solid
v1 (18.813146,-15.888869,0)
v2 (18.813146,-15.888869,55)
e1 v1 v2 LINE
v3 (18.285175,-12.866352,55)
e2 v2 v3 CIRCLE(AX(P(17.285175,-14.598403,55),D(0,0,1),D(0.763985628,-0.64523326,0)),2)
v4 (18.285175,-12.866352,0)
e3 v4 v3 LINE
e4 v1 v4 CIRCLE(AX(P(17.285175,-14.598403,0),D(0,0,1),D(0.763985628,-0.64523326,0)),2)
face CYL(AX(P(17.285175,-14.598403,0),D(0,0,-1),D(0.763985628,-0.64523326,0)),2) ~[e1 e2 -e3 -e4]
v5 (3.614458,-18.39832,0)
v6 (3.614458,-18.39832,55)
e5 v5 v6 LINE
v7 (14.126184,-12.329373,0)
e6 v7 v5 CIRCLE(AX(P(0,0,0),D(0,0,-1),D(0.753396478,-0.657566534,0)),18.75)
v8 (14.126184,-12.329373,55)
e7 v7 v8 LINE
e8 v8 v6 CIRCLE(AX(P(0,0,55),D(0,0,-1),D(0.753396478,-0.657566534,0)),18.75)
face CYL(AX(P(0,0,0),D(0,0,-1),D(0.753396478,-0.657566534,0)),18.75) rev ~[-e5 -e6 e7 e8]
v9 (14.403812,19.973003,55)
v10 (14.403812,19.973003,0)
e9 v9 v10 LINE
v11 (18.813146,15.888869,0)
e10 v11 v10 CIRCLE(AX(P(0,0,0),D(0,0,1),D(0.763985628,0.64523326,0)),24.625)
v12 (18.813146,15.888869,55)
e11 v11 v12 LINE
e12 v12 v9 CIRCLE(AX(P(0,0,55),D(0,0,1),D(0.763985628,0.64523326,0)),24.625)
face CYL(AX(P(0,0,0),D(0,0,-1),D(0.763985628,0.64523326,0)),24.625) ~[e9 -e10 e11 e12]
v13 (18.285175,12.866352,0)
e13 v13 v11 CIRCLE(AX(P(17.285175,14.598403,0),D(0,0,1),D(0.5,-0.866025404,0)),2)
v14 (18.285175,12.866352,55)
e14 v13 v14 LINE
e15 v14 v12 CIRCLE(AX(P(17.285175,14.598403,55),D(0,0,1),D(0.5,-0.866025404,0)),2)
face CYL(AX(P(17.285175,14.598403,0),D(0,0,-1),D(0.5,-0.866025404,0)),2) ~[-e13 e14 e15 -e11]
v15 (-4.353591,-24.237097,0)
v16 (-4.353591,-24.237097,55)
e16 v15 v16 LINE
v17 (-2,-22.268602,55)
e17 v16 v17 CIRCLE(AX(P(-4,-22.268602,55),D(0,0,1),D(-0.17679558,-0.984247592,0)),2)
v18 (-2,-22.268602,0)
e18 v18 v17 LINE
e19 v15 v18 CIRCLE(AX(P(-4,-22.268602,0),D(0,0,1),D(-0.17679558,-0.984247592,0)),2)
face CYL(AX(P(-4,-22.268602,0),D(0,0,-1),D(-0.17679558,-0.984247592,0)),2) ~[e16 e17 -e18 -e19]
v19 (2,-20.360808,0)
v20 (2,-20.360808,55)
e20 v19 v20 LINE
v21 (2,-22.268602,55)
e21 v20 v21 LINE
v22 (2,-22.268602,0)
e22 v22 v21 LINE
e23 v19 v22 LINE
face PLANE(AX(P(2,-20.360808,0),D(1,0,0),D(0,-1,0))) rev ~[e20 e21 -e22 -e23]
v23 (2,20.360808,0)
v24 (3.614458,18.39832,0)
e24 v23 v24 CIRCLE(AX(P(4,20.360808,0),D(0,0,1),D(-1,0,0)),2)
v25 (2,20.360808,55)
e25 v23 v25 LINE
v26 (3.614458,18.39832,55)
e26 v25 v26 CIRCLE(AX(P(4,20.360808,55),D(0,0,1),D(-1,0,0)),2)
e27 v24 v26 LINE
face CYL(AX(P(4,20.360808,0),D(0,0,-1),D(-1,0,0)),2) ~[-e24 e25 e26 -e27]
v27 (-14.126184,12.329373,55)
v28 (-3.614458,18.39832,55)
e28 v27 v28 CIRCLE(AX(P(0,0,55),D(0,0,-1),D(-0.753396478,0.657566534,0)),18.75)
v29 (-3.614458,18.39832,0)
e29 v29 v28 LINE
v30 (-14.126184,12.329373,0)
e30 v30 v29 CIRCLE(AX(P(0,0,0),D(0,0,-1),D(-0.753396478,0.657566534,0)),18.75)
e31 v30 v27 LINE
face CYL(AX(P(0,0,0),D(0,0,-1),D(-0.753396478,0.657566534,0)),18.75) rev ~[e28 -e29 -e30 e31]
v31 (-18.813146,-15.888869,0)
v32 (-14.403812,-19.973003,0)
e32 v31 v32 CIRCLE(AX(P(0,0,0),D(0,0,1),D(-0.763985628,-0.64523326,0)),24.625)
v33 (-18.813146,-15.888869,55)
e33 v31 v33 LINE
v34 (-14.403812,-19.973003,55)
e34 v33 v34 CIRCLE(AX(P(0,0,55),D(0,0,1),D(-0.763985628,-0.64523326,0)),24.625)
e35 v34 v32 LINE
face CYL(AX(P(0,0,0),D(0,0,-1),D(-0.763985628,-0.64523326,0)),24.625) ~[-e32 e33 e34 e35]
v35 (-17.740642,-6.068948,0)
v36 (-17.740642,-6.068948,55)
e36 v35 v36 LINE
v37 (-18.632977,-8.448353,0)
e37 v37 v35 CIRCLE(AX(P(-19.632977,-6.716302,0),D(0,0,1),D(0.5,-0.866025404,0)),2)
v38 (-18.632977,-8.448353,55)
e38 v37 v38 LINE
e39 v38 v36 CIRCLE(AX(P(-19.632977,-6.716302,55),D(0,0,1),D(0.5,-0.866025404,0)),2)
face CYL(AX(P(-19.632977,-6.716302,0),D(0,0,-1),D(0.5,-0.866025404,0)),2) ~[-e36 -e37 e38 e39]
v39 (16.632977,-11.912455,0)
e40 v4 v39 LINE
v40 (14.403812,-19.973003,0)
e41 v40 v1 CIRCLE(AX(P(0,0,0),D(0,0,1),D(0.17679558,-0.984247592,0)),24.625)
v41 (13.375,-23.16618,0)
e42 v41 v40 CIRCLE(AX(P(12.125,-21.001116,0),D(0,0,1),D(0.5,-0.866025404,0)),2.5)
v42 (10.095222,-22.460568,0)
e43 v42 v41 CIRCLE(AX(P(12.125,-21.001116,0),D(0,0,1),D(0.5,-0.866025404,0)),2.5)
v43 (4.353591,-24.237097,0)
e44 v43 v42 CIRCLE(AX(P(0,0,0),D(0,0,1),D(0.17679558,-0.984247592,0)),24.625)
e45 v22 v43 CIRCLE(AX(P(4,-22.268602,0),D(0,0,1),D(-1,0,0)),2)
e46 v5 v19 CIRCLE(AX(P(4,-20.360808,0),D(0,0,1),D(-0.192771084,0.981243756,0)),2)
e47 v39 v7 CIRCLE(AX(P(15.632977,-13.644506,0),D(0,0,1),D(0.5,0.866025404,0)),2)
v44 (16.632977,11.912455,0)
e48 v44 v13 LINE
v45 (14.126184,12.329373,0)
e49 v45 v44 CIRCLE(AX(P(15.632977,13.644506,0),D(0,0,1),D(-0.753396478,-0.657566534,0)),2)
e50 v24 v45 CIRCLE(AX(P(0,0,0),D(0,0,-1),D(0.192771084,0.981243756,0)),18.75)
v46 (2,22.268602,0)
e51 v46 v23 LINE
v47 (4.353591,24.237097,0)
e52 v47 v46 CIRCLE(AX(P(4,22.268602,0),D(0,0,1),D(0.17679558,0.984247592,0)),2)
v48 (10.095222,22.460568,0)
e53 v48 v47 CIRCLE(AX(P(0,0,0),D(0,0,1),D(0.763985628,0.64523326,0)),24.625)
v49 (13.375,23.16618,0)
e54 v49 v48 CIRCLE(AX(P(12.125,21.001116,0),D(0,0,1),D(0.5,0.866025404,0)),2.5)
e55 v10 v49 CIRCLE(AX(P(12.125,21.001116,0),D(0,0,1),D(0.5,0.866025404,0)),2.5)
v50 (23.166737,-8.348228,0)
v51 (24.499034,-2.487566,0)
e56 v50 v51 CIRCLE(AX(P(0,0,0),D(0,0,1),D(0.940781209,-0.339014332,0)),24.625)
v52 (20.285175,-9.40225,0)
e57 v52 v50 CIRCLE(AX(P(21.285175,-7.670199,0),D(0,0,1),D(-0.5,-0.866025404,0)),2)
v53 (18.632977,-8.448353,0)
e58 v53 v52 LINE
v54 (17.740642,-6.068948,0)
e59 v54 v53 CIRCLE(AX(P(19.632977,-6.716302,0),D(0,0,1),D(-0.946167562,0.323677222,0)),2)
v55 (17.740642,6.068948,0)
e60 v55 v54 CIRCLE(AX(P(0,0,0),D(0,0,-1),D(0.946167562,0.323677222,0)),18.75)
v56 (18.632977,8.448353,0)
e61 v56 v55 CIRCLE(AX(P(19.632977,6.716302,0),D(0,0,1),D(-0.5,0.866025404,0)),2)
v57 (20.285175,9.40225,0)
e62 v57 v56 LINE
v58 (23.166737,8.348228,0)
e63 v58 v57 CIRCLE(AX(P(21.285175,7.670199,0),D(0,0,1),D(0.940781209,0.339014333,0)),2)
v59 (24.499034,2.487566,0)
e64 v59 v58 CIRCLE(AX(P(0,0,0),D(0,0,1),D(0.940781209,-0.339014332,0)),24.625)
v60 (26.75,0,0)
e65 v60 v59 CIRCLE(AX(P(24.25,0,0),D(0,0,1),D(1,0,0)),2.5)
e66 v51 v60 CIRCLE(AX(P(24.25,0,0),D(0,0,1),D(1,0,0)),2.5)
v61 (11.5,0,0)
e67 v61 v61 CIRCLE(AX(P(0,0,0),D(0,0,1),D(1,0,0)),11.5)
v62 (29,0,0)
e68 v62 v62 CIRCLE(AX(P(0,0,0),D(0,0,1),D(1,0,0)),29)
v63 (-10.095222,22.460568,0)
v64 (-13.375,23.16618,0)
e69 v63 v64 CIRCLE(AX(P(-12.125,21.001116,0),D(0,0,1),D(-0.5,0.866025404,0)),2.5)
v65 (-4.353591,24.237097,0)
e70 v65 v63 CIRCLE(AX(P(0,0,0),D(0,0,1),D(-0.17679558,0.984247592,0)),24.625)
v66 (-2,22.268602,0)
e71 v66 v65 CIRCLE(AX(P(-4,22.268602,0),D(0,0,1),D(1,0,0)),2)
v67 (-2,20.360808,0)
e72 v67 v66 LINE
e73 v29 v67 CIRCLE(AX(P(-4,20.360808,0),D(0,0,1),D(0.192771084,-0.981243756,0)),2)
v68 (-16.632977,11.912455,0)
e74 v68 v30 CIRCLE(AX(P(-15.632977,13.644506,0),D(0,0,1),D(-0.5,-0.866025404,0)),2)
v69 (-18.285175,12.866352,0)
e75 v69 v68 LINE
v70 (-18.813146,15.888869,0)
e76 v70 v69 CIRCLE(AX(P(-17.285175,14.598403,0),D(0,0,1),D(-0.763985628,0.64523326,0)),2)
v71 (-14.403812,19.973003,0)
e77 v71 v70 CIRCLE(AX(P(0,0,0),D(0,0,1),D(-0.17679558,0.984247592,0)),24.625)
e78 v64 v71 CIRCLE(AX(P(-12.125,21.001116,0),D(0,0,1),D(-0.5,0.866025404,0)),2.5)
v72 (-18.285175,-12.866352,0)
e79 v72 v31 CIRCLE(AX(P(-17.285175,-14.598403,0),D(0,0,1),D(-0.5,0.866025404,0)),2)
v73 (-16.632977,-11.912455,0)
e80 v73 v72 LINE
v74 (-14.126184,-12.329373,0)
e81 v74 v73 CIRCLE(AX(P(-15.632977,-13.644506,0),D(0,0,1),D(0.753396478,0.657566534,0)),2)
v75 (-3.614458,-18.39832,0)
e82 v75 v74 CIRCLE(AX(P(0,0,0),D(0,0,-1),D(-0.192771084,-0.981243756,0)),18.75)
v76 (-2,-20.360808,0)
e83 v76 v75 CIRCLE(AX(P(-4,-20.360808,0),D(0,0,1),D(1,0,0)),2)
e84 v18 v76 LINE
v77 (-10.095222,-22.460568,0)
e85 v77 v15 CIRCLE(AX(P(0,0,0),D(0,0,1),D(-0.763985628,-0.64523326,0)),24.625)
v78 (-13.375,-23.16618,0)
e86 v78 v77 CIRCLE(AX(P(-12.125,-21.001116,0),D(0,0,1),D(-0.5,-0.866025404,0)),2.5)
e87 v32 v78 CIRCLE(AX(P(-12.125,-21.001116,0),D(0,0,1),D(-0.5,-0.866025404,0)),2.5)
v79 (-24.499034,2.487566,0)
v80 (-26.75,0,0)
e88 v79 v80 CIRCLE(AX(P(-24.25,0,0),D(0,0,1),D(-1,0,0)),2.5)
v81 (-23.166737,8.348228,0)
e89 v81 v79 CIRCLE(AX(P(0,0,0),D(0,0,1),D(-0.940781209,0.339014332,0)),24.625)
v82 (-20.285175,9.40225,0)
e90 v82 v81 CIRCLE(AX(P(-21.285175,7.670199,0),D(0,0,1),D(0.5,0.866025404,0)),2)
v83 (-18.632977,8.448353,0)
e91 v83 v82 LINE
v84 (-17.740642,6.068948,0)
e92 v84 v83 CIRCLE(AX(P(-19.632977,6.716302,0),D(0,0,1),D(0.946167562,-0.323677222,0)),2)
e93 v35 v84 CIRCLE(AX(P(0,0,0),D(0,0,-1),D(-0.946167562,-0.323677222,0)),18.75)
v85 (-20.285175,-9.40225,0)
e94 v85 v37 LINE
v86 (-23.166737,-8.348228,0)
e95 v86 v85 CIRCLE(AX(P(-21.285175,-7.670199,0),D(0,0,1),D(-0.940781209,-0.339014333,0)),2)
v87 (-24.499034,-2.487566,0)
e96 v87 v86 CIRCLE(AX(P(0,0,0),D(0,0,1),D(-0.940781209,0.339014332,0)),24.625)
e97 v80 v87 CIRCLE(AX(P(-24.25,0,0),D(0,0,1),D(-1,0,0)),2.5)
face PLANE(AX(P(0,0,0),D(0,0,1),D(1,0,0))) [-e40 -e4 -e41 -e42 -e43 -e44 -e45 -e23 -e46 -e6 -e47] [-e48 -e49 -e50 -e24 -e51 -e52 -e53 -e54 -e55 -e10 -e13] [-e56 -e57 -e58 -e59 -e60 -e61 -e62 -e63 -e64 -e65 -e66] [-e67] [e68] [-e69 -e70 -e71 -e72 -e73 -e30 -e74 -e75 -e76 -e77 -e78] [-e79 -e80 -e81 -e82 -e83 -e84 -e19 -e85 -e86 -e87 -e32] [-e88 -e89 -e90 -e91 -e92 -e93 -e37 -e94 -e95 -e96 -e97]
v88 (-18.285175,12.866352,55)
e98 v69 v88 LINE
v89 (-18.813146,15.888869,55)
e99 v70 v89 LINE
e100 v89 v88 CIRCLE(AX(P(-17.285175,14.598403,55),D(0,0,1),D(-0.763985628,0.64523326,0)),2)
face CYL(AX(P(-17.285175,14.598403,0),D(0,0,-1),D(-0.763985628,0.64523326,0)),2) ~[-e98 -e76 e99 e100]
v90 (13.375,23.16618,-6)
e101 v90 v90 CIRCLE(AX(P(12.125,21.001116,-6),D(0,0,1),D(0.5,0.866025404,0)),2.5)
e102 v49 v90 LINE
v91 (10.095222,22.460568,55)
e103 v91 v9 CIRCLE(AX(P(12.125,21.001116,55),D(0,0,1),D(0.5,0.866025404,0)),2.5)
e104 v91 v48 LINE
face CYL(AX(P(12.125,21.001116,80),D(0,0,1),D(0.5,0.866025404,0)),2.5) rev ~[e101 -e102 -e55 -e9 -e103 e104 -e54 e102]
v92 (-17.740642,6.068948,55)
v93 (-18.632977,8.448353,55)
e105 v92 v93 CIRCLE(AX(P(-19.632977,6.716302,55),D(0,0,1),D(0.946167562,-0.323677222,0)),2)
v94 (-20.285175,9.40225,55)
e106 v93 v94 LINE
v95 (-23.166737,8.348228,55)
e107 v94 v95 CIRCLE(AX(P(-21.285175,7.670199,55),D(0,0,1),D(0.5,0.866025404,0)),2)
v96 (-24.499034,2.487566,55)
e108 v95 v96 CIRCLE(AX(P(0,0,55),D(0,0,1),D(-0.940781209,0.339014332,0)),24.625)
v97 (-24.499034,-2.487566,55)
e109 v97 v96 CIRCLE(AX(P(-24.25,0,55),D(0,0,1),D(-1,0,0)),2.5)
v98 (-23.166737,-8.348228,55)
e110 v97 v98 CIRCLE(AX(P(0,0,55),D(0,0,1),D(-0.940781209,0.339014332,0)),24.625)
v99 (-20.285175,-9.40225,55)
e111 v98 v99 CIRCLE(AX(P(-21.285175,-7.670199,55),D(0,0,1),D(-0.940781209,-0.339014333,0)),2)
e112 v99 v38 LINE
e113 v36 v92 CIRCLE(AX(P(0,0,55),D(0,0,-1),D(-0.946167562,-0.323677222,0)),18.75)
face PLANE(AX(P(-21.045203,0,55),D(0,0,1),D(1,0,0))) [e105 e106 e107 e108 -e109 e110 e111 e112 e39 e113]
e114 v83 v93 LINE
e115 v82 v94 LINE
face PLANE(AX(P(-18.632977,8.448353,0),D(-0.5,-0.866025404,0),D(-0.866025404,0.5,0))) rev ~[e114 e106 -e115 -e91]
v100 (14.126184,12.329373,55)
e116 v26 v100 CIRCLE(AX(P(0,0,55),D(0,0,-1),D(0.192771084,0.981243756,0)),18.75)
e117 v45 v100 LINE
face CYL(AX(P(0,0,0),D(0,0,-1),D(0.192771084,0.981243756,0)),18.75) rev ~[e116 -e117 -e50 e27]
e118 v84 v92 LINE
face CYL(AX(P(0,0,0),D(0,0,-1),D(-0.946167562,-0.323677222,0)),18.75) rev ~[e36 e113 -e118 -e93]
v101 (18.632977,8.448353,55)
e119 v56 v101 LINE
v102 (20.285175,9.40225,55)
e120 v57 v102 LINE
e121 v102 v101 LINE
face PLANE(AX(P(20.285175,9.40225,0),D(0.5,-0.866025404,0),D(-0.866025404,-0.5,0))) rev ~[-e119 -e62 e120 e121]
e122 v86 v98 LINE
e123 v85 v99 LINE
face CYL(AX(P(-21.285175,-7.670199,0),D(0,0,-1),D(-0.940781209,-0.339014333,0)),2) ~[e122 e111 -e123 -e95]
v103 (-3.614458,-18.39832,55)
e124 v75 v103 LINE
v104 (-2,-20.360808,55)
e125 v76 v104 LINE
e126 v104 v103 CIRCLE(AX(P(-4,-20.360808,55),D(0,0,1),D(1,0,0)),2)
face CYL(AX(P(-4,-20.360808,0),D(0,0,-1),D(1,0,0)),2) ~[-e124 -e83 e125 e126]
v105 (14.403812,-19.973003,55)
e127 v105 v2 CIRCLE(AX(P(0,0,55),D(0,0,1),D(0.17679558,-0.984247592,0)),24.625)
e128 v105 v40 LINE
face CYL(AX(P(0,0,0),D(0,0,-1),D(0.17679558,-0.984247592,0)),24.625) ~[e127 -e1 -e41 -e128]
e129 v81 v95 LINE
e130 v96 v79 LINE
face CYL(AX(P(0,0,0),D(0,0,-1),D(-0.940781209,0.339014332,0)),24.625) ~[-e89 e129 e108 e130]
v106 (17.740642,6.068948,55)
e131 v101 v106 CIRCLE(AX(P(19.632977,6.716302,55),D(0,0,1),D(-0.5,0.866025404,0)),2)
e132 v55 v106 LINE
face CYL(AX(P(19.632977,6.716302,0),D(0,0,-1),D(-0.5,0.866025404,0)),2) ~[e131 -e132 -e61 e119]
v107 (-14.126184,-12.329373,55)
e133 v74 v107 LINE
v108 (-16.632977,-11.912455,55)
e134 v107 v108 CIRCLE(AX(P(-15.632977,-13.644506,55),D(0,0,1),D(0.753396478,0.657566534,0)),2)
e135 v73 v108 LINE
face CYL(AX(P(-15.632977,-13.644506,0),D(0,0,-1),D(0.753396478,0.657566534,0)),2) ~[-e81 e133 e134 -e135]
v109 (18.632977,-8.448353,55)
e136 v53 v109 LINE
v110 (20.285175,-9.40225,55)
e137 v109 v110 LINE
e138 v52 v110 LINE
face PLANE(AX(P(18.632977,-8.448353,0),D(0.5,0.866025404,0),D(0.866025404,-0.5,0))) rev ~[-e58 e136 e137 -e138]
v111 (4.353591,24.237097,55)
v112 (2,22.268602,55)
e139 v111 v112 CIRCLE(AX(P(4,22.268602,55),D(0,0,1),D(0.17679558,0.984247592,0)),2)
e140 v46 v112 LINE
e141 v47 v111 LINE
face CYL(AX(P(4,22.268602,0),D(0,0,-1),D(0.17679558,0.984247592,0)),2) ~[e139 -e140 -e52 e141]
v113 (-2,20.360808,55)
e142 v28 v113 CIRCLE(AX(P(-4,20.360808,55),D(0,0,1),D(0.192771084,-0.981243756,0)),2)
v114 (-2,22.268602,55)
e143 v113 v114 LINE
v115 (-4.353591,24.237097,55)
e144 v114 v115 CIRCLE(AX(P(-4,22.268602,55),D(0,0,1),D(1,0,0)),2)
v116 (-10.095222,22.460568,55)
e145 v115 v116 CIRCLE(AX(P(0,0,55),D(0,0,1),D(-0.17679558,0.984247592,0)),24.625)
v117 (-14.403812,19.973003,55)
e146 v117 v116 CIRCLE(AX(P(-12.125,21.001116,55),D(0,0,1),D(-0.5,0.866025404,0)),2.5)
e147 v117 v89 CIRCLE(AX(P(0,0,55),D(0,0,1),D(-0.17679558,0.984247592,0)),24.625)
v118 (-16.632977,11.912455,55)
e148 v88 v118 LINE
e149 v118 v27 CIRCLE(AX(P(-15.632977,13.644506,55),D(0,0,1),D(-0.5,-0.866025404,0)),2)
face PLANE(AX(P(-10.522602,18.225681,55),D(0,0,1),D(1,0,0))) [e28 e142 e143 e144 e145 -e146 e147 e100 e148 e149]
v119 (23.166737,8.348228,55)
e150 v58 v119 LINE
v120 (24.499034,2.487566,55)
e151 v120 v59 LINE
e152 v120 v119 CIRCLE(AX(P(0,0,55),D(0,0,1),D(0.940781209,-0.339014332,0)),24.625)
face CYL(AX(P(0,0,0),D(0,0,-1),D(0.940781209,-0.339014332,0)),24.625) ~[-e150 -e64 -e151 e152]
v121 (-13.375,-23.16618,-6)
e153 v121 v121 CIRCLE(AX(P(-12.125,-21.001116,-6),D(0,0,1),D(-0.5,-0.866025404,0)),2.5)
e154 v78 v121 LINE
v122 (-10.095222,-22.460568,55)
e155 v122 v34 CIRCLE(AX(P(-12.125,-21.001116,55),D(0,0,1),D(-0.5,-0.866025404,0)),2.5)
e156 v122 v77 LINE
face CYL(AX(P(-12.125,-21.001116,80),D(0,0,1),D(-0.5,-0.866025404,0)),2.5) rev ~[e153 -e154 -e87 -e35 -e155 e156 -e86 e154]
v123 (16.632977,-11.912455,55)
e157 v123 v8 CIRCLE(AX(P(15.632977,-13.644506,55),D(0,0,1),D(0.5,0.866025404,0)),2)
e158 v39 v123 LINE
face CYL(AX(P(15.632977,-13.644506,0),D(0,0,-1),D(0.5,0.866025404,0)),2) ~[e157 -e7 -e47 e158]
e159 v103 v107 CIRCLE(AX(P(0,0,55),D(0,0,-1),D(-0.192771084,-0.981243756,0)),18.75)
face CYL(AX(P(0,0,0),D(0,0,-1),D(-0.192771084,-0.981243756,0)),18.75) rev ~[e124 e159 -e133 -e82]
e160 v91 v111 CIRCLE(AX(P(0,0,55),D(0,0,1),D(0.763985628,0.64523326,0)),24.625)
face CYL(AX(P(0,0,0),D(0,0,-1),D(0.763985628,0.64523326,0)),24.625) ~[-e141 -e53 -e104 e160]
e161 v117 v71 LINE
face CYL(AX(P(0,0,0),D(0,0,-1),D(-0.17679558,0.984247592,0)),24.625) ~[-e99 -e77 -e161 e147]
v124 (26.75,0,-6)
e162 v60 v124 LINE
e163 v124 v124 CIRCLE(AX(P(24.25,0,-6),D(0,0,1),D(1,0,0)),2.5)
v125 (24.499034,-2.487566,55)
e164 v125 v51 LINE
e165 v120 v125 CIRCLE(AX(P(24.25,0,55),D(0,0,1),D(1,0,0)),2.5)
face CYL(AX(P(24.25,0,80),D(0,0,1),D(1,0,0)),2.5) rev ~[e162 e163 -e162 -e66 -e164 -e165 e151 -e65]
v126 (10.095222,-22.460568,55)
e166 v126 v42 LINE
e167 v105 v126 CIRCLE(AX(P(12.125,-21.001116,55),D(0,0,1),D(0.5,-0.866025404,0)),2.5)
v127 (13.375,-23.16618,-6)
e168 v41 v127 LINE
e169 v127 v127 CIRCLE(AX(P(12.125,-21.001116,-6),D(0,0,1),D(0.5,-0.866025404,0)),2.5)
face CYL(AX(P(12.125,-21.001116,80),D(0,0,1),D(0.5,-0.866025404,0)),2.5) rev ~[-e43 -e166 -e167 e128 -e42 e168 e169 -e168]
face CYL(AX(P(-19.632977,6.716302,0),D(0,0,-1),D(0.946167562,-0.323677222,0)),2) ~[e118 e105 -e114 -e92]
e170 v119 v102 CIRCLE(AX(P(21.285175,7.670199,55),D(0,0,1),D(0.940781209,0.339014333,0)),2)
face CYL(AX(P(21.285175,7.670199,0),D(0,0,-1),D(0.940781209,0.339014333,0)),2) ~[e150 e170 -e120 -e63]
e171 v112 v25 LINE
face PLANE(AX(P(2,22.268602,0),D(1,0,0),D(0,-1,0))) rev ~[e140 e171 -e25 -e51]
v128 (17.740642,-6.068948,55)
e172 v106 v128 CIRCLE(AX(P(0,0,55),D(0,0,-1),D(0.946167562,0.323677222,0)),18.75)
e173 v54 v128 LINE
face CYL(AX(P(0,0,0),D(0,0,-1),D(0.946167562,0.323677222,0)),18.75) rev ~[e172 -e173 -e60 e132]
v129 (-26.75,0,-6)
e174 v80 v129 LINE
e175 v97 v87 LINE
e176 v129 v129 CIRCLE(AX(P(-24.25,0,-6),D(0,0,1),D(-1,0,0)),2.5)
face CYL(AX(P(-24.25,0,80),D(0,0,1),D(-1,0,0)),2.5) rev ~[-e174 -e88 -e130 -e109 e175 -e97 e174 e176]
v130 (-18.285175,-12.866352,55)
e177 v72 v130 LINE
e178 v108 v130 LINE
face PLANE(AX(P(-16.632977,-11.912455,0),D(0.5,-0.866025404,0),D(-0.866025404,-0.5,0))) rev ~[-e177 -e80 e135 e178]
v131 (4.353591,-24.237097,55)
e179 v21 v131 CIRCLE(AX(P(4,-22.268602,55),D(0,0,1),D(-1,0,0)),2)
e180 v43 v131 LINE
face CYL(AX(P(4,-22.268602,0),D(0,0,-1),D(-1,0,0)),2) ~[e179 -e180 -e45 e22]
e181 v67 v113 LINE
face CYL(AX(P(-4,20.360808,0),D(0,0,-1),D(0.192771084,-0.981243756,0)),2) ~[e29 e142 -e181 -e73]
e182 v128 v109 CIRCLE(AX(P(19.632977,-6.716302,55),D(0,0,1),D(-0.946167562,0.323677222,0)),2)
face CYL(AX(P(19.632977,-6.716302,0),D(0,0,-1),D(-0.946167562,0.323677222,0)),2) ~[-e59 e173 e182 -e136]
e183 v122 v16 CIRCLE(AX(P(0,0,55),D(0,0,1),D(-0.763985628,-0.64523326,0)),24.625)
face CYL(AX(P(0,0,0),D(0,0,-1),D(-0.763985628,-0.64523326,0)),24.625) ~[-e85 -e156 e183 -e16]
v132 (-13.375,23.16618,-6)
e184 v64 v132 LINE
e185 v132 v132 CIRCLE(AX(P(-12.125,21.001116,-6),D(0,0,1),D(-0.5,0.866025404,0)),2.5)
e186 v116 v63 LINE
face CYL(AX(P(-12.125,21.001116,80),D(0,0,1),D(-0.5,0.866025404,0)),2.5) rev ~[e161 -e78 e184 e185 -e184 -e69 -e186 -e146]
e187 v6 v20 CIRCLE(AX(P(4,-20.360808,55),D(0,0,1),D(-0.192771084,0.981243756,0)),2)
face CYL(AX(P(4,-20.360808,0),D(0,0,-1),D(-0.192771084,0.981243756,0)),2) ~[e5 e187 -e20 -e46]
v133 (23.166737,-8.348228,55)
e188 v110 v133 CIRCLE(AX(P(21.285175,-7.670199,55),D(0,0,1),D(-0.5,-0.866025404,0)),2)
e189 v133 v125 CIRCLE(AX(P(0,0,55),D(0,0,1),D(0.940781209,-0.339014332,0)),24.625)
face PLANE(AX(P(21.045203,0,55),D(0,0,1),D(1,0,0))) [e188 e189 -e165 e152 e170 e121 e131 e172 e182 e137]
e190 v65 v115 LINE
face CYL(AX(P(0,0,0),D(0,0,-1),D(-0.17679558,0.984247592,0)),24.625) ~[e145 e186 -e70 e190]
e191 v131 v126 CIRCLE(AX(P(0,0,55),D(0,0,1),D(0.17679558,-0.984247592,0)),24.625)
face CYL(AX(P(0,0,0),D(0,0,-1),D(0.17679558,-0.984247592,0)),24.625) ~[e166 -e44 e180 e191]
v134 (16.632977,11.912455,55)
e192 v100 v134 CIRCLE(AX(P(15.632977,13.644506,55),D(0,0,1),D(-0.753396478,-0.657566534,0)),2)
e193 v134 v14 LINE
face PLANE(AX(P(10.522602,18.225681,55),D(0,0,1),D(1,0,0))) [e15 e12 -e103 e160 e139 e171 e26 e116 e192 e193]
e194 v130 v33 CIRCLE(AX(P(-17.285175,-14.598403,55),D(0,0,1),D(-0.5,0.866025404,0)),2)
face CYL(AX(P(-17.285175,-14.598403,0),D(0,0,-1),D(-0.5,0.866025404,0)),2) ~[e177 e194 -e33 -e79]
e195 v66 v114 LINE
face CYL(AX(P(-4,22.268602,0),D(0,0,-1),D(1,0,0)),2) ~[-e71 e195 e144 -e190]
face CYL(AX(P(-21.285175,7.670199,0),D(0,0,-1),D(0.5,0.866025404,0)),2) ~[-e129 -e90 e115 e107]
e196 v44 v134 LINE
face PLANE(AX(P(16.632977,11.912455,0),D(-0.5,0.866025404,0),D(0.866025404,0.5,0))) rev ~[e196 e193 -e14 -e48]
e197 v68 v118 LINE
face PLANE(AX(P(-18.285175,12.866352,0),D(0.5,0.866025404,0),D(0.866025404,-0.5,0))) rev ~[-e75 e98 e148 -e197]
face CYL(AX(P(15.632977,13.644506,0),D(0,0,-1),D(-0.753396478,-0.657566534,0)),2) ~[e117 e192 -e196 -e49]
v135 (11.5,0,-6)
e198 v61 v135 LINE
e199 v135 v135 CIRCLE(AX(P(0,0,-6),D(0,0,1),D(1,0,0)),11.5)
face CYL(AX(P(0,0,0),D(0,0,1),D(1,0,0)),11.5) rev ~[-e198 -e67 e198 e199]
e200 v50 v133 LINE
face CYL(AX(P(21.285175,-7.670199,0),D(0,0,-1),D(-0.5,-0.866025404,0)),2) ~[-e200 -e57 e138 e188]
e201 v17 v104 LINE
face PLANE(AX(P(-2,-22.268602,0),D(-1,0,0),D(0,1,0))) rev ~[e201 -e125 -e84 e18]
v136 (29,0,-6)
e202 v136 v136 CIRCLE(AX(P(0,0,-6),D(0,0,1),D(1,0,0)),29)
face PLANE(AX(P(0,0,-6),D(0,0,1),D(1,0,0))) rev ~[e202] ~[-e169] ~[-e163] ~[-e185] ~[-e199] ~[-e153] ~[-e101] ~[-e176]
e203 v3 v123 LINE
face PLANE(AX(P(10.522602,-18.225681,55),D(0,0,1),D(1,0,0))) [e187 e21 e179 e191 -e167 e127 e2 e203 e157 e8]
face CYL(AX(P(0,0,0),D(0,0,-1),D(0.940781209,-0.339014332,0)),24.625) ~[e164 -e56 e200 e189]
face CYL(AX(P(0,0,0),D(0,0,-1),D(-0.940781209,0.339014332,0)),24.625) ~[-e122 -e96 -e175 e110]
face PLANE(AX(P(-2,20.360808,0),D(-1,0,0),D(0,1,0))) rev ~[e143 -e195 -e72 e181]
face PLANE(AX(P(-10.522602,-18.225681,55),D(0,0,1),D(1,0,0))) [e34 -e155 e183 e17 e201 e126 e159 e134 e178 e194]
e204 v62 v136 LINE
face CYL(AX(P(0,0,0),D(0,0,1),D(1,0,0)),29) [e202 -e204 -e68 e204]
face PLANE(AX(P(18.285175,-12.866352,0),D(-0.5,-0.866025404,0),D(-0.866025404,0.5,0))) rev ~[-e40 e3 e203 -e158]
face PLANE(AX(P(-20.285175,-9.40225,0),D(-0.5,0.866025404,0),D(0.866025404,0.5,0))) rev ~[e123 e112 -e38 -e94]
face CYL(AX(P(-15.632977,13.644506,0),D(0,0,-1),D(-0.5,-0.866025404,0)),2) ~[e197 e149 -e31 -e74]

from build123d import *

# Parameters (mm, degrees)
F1_DEPTH = 55
F2_R     = 29
F2_R_2   = 11.5
F3_DEPTH = 6
F5_R     = 2.5
F7_DEPTH = 100
F8_COUNT = 6


with BuildPart() as f1:
    # F0 (on Top) → F1 (new body)
    with BuildSketch(Plane.XY):
        with BuildLine():
            Line((-2, -22.2686017747), (-2, -20.3608079407))
            ThreePointArc((-2, -20.3608079407), (-2.4554799552, -19.0901947694), (-3.6144578313, -18.3983204284))
            ThreePointArc((-3.6144578313, -18.3983204284), (-9.375, -16.237976321), (-14.1261839623, -12.329372517))
            ThreePointArc((-14.1261839623, -12.329372517), (-15.3048536558, -11.6716054044), (-16.6329769183, -11.9124547779))
            Line((-16.6329769183, -11.9124547779), (-18.2851748436, -12.8663516949))
            ThreePointArc((-18.2851748436, -12.8663516949), (-19.2553429626, -14.2542548846), (-18.8131461005, -15.888869022))
            ThreePointArc((-18.8131461005, -15.888869022), (-12.3125, -21.3258755682), (-4.3535911602, -24.2370969592))
            ThreePointArc((-4.3535911602, -24.2370969592), (-2.7168753608, -23.8027436065), (-2, -22.2686017747))
        make_face()
    extrude(amount=F1_DEPTH)



with BuildPart() as f1b:
    # F0 (on Top) → F1, piece 2 (new body)
    with BuildSketch(Plane.XY):
        with BuildLine():
            ThreePointArc((14.1261839623, -12.329372517), (9.375, -16.237976321), (3.6144578313, -18.3983204284))
            ThreePointArc((3.6144578313, -18.3983204284), (2.4554799552, -19.0901947694), (2, -20.3608079407))
            Line((2, -20.3608079407), (2, -22.2686017747))
            ThreePointArc((2, -22.2686017747), (2.7168753608, -23.8027436065), (4.3535911602, -24.2370969592))
            ThreePointArc((4.3535911602, -24.2370969592), (12.3125, -21.3258755682), (18.8131461005, -15.888869022))
            ThreePointArc((18.8131461005, -15.888869022), (19.2553429626, -14.2542548846), (18.2851748436, -12.8663516949))
            Line((18.2851748436, -12.8663516949), (16.6329769183, -11.9124547779))
            ThreePointArc((16.6329769183, -11.9124547779), (15.3048536558, -11.6716054044), (14.1261839623, -12.329372517))
        make_face()
    extrude(amount=F1_DEPTH)


with BuildPart() as f1c:
    # F0 (on Top) → F1, piece 3 (new body)
    with BuildSketch(Plane.XY):
        with BuildLine():
            ThreePointArc((17.7406417936, -6.0689479114), (17.7603336111, -7.418589365), (18.6329769183, -8.4483531628))
            Line((18.6329769183, -8.4483531628), (20.2851748436, -9.4022500798))
            ThreePointArc((20.2851748436, -9.4022500798), (21.9722183234, -9.5484887219), (23.1667372608, -8.3482279372))
            ThreePointArc((23.1667372608, -8.3482279372), (24.625, 0), (23.1667372608, 8.3482279372))
            ThreePointArc((23.1667372608, 8.3482279372), (21.9722183234, 9.5484887219), (20.2851748436, 9.4022500798))
            Line((20.2851748436, 9.4022500798), (18.6329769183, 8.4483531628))
            ThreePointArc((18.6329769183, 8.4483531628), (17.7603336111, 7.418589365), (17.7406417936, 6.0689479114))
            ThreePointArc((17.7406417936, 6.0689479114), (18.75, 0), (17.7406417936, -6.0689479114))
        make_face()
    extrude(amount=F1_DEPTH)


with BuildPart() as f1d:
    # F0 (on Top) → F1, piece 4 (new body)
    with BuildSketch(Plane.XY):
        with BuildLine():
            ThreePointArc((-17.7406417936, 6.0689479114), (-17.7603336111, 7.418589365), (-18.6329769183, 8.4483531628))
            Line((-18.6329769183, 8.4483531628), (-20.2851748436, 9.4022500798))
            ThreePointArc((-20.2851748436, 9.4022500798), (-21.9722183234, 9.5484887219), (-23.1667372608, 8.3482279372))
            ThreePointArc((-23.1667372608, 8.3482279372), (-24.625, 0), (-23.1667372608, -8.3482279372))
            ThreePointArc((-23.1667372608, -8.3482279372), (-21.9722183234, -9.5484887219), (-20.2851748436, -9.4022500798))
            Line((-20.2851748436, -9.4022500798), (-18.6329769183, -8.4483531628))
            ThreePointArc((-18.6329769183, -8.4483531628), (-17.7603336111, -7.418589365), (-17.7406417936, -6.0689479114))
            ThreePointArc((-17.7406417936, -6.0689479114), (-18.75, 0), (-17.7406417936, 6.0689479114))
        make_face()
    extrude(amount=F1_DEPTH)


with BuildPart() as f1e:
    # F0 (on Top) → F1, piece 5 (new body)
    with BuildSketch(Plane.XY):
        with BuildLine():
            ThreePointArc((-3.6144578313, 18.3983204284), (-2.4554799552, 19.0901947694), (-2, 20.3608079407))
            Line((-2, 20.3608079407), (-2, 22.2686017747))
            ThreePointArc((-2, 22.2686017747), (-2.7168753608, 23.8027436065), (-4.3535911602, 24.2370969592))
            ThreePointArc((-4.3535911602, 24.2370969592), (-12.3125, 21.3258755682), (-18.8131461005, 15.888869022))
            ThreePointArc((-18.8131461005, 15.888869022), (-19.2553429626, 14.2542548846), (-18.2851748436, 12.8663516949))
            Line((-18.2851748436, 12.8663516949), (-16.6329769183, 11.9124547779))
            ThreePointArc((-16.6329769183, 11.9124547779), (-15.3048536558, 11.6716054044), (-14.1261839623, 12.329372517))
            ThreePointArc((-14.1261839623, 12.329372517), (-9.375, 16.237976321), (-3.6144578313, 18.3983204284))
        make_face()
    extrude(amount=F1_DEPTH)


with BuildPart() as f1f:
    # F0 (on Top) → F1, piece 6 (new body)
    with BuildSketch(Plane.XY):
        with BuildLine():
            ThreePointArc((14.1261839623, 12.329372517), (15.3048536558, 11.6716054044), (16.6329769183, 11.9124547779))
            Line((16.6329769183, 11.9124547779), (18.2851748436, 12.8663516949))
            ThreePointArc((18.2851748436, 12.8663516949), (19.2553429626, 14.2542548846), (18.8131461005, 15.888869022))
            ThreePointArc((18.8131461005, 15.888869022), (12.3125, 21.3258755682), (4.3535911602, 24.2370969592))
            ThreePointArc((4.3535911602, 24.2370969592), (2.7168753608, 23.8027436065), (2, 22.2686017747))
            Line((2, 22.2686017747), (2, 20.3608079407))
            ThreePointArc((2, 20.3608079407), (2.4554799552, 19.0901947694), (3.6144578313, 18.3983204284))
            ThreePointArc((3.6144578313, 18.3983204284), (9.375, 16.237976321), (14.1261839623, 12.329372517))
        make_face()
    extrude(amount=F1_DEPTH)


with BuildPart() as f1_1:
    add(f1.part)

    add(f1b.part)  # F3 merges F1b

    add(f1c.part)  # F3 merges F1c

    add(f1d.part)  # F3 merges F1d

    add(f1e.part)  # F3 merges F1e

    add(f1f.part)  # F3 merges F1f
    # F2 (on Top) → F3 (join)
    with BuildSketch(Plane.XY):
        Circle(F2_R)
        Circle(F2_R_2, mode=Mode.SUBTRACT)
    extrude(amount=-F3_DEPTH)


with BuildPart() as f7:
    # F5 (on offset) → F7 (new body)
    with BuildSketch(Plane.XY.offset(80)):
        with Locations((24.25, 0)):
            Circle(F5_R)
    extrude(amount=-F7_DEPTH)


with BuildPart() as f8_1:
    # F8: instance of F7
    add(f7.part.rotate(Axis((0, 0, 60.7173442841), (0, 0, 1)), 1 * 360 / F8_COUNT))


with BuildPart() as f8_2:
    # F8: instance of F7
    add(f7.part.rotate(Axis((0, 0, 60.7173442841), (0, 0, 1)), 2 * 360 / F8_COUNT))


with BuildPart() as f8_3:
    # F8: instance of F7
    add(f7.part.rotate(Axis((0, 0, 60.7173442841), (0, 0, 1)), 3 * 360 / F8_COUNT))


with BuildPart() as f8_4:
    # F8: instance of F7
    add(f7.part.rotate(Axis((0, 0, 60.7173442841), (0, 0, 1)), 4 * 360 / F8_COUNT))


with BuildPart() as f8_5:
    # F8: instance of F7
    add(f7.part.rotate(Axis((0, 0, 60.7173442841), (0, 0, 1)), 5 * 360 / F8_COUNT))


with BuildPart() as f1_2:
    add(f1_1.part)

    # F9: cut F7, F8_2, F8_3, F8_4, F8_5, F8_1
    add(f7.part, mode=Mode.SUBTRACT)
    add(f8_2.part, mode=Mode.SUBTRACT)
    add(f8_3.part, mode=Mode.SUBTRACT)
    add(f8_4.part, mode=Mode.SUBTRACT)
    add(f8_5.part, mode=Mode.SUBTRACT)
    add(f8_1.part, mode=Mode.SUBTRACT)


solid = f1_2.part
